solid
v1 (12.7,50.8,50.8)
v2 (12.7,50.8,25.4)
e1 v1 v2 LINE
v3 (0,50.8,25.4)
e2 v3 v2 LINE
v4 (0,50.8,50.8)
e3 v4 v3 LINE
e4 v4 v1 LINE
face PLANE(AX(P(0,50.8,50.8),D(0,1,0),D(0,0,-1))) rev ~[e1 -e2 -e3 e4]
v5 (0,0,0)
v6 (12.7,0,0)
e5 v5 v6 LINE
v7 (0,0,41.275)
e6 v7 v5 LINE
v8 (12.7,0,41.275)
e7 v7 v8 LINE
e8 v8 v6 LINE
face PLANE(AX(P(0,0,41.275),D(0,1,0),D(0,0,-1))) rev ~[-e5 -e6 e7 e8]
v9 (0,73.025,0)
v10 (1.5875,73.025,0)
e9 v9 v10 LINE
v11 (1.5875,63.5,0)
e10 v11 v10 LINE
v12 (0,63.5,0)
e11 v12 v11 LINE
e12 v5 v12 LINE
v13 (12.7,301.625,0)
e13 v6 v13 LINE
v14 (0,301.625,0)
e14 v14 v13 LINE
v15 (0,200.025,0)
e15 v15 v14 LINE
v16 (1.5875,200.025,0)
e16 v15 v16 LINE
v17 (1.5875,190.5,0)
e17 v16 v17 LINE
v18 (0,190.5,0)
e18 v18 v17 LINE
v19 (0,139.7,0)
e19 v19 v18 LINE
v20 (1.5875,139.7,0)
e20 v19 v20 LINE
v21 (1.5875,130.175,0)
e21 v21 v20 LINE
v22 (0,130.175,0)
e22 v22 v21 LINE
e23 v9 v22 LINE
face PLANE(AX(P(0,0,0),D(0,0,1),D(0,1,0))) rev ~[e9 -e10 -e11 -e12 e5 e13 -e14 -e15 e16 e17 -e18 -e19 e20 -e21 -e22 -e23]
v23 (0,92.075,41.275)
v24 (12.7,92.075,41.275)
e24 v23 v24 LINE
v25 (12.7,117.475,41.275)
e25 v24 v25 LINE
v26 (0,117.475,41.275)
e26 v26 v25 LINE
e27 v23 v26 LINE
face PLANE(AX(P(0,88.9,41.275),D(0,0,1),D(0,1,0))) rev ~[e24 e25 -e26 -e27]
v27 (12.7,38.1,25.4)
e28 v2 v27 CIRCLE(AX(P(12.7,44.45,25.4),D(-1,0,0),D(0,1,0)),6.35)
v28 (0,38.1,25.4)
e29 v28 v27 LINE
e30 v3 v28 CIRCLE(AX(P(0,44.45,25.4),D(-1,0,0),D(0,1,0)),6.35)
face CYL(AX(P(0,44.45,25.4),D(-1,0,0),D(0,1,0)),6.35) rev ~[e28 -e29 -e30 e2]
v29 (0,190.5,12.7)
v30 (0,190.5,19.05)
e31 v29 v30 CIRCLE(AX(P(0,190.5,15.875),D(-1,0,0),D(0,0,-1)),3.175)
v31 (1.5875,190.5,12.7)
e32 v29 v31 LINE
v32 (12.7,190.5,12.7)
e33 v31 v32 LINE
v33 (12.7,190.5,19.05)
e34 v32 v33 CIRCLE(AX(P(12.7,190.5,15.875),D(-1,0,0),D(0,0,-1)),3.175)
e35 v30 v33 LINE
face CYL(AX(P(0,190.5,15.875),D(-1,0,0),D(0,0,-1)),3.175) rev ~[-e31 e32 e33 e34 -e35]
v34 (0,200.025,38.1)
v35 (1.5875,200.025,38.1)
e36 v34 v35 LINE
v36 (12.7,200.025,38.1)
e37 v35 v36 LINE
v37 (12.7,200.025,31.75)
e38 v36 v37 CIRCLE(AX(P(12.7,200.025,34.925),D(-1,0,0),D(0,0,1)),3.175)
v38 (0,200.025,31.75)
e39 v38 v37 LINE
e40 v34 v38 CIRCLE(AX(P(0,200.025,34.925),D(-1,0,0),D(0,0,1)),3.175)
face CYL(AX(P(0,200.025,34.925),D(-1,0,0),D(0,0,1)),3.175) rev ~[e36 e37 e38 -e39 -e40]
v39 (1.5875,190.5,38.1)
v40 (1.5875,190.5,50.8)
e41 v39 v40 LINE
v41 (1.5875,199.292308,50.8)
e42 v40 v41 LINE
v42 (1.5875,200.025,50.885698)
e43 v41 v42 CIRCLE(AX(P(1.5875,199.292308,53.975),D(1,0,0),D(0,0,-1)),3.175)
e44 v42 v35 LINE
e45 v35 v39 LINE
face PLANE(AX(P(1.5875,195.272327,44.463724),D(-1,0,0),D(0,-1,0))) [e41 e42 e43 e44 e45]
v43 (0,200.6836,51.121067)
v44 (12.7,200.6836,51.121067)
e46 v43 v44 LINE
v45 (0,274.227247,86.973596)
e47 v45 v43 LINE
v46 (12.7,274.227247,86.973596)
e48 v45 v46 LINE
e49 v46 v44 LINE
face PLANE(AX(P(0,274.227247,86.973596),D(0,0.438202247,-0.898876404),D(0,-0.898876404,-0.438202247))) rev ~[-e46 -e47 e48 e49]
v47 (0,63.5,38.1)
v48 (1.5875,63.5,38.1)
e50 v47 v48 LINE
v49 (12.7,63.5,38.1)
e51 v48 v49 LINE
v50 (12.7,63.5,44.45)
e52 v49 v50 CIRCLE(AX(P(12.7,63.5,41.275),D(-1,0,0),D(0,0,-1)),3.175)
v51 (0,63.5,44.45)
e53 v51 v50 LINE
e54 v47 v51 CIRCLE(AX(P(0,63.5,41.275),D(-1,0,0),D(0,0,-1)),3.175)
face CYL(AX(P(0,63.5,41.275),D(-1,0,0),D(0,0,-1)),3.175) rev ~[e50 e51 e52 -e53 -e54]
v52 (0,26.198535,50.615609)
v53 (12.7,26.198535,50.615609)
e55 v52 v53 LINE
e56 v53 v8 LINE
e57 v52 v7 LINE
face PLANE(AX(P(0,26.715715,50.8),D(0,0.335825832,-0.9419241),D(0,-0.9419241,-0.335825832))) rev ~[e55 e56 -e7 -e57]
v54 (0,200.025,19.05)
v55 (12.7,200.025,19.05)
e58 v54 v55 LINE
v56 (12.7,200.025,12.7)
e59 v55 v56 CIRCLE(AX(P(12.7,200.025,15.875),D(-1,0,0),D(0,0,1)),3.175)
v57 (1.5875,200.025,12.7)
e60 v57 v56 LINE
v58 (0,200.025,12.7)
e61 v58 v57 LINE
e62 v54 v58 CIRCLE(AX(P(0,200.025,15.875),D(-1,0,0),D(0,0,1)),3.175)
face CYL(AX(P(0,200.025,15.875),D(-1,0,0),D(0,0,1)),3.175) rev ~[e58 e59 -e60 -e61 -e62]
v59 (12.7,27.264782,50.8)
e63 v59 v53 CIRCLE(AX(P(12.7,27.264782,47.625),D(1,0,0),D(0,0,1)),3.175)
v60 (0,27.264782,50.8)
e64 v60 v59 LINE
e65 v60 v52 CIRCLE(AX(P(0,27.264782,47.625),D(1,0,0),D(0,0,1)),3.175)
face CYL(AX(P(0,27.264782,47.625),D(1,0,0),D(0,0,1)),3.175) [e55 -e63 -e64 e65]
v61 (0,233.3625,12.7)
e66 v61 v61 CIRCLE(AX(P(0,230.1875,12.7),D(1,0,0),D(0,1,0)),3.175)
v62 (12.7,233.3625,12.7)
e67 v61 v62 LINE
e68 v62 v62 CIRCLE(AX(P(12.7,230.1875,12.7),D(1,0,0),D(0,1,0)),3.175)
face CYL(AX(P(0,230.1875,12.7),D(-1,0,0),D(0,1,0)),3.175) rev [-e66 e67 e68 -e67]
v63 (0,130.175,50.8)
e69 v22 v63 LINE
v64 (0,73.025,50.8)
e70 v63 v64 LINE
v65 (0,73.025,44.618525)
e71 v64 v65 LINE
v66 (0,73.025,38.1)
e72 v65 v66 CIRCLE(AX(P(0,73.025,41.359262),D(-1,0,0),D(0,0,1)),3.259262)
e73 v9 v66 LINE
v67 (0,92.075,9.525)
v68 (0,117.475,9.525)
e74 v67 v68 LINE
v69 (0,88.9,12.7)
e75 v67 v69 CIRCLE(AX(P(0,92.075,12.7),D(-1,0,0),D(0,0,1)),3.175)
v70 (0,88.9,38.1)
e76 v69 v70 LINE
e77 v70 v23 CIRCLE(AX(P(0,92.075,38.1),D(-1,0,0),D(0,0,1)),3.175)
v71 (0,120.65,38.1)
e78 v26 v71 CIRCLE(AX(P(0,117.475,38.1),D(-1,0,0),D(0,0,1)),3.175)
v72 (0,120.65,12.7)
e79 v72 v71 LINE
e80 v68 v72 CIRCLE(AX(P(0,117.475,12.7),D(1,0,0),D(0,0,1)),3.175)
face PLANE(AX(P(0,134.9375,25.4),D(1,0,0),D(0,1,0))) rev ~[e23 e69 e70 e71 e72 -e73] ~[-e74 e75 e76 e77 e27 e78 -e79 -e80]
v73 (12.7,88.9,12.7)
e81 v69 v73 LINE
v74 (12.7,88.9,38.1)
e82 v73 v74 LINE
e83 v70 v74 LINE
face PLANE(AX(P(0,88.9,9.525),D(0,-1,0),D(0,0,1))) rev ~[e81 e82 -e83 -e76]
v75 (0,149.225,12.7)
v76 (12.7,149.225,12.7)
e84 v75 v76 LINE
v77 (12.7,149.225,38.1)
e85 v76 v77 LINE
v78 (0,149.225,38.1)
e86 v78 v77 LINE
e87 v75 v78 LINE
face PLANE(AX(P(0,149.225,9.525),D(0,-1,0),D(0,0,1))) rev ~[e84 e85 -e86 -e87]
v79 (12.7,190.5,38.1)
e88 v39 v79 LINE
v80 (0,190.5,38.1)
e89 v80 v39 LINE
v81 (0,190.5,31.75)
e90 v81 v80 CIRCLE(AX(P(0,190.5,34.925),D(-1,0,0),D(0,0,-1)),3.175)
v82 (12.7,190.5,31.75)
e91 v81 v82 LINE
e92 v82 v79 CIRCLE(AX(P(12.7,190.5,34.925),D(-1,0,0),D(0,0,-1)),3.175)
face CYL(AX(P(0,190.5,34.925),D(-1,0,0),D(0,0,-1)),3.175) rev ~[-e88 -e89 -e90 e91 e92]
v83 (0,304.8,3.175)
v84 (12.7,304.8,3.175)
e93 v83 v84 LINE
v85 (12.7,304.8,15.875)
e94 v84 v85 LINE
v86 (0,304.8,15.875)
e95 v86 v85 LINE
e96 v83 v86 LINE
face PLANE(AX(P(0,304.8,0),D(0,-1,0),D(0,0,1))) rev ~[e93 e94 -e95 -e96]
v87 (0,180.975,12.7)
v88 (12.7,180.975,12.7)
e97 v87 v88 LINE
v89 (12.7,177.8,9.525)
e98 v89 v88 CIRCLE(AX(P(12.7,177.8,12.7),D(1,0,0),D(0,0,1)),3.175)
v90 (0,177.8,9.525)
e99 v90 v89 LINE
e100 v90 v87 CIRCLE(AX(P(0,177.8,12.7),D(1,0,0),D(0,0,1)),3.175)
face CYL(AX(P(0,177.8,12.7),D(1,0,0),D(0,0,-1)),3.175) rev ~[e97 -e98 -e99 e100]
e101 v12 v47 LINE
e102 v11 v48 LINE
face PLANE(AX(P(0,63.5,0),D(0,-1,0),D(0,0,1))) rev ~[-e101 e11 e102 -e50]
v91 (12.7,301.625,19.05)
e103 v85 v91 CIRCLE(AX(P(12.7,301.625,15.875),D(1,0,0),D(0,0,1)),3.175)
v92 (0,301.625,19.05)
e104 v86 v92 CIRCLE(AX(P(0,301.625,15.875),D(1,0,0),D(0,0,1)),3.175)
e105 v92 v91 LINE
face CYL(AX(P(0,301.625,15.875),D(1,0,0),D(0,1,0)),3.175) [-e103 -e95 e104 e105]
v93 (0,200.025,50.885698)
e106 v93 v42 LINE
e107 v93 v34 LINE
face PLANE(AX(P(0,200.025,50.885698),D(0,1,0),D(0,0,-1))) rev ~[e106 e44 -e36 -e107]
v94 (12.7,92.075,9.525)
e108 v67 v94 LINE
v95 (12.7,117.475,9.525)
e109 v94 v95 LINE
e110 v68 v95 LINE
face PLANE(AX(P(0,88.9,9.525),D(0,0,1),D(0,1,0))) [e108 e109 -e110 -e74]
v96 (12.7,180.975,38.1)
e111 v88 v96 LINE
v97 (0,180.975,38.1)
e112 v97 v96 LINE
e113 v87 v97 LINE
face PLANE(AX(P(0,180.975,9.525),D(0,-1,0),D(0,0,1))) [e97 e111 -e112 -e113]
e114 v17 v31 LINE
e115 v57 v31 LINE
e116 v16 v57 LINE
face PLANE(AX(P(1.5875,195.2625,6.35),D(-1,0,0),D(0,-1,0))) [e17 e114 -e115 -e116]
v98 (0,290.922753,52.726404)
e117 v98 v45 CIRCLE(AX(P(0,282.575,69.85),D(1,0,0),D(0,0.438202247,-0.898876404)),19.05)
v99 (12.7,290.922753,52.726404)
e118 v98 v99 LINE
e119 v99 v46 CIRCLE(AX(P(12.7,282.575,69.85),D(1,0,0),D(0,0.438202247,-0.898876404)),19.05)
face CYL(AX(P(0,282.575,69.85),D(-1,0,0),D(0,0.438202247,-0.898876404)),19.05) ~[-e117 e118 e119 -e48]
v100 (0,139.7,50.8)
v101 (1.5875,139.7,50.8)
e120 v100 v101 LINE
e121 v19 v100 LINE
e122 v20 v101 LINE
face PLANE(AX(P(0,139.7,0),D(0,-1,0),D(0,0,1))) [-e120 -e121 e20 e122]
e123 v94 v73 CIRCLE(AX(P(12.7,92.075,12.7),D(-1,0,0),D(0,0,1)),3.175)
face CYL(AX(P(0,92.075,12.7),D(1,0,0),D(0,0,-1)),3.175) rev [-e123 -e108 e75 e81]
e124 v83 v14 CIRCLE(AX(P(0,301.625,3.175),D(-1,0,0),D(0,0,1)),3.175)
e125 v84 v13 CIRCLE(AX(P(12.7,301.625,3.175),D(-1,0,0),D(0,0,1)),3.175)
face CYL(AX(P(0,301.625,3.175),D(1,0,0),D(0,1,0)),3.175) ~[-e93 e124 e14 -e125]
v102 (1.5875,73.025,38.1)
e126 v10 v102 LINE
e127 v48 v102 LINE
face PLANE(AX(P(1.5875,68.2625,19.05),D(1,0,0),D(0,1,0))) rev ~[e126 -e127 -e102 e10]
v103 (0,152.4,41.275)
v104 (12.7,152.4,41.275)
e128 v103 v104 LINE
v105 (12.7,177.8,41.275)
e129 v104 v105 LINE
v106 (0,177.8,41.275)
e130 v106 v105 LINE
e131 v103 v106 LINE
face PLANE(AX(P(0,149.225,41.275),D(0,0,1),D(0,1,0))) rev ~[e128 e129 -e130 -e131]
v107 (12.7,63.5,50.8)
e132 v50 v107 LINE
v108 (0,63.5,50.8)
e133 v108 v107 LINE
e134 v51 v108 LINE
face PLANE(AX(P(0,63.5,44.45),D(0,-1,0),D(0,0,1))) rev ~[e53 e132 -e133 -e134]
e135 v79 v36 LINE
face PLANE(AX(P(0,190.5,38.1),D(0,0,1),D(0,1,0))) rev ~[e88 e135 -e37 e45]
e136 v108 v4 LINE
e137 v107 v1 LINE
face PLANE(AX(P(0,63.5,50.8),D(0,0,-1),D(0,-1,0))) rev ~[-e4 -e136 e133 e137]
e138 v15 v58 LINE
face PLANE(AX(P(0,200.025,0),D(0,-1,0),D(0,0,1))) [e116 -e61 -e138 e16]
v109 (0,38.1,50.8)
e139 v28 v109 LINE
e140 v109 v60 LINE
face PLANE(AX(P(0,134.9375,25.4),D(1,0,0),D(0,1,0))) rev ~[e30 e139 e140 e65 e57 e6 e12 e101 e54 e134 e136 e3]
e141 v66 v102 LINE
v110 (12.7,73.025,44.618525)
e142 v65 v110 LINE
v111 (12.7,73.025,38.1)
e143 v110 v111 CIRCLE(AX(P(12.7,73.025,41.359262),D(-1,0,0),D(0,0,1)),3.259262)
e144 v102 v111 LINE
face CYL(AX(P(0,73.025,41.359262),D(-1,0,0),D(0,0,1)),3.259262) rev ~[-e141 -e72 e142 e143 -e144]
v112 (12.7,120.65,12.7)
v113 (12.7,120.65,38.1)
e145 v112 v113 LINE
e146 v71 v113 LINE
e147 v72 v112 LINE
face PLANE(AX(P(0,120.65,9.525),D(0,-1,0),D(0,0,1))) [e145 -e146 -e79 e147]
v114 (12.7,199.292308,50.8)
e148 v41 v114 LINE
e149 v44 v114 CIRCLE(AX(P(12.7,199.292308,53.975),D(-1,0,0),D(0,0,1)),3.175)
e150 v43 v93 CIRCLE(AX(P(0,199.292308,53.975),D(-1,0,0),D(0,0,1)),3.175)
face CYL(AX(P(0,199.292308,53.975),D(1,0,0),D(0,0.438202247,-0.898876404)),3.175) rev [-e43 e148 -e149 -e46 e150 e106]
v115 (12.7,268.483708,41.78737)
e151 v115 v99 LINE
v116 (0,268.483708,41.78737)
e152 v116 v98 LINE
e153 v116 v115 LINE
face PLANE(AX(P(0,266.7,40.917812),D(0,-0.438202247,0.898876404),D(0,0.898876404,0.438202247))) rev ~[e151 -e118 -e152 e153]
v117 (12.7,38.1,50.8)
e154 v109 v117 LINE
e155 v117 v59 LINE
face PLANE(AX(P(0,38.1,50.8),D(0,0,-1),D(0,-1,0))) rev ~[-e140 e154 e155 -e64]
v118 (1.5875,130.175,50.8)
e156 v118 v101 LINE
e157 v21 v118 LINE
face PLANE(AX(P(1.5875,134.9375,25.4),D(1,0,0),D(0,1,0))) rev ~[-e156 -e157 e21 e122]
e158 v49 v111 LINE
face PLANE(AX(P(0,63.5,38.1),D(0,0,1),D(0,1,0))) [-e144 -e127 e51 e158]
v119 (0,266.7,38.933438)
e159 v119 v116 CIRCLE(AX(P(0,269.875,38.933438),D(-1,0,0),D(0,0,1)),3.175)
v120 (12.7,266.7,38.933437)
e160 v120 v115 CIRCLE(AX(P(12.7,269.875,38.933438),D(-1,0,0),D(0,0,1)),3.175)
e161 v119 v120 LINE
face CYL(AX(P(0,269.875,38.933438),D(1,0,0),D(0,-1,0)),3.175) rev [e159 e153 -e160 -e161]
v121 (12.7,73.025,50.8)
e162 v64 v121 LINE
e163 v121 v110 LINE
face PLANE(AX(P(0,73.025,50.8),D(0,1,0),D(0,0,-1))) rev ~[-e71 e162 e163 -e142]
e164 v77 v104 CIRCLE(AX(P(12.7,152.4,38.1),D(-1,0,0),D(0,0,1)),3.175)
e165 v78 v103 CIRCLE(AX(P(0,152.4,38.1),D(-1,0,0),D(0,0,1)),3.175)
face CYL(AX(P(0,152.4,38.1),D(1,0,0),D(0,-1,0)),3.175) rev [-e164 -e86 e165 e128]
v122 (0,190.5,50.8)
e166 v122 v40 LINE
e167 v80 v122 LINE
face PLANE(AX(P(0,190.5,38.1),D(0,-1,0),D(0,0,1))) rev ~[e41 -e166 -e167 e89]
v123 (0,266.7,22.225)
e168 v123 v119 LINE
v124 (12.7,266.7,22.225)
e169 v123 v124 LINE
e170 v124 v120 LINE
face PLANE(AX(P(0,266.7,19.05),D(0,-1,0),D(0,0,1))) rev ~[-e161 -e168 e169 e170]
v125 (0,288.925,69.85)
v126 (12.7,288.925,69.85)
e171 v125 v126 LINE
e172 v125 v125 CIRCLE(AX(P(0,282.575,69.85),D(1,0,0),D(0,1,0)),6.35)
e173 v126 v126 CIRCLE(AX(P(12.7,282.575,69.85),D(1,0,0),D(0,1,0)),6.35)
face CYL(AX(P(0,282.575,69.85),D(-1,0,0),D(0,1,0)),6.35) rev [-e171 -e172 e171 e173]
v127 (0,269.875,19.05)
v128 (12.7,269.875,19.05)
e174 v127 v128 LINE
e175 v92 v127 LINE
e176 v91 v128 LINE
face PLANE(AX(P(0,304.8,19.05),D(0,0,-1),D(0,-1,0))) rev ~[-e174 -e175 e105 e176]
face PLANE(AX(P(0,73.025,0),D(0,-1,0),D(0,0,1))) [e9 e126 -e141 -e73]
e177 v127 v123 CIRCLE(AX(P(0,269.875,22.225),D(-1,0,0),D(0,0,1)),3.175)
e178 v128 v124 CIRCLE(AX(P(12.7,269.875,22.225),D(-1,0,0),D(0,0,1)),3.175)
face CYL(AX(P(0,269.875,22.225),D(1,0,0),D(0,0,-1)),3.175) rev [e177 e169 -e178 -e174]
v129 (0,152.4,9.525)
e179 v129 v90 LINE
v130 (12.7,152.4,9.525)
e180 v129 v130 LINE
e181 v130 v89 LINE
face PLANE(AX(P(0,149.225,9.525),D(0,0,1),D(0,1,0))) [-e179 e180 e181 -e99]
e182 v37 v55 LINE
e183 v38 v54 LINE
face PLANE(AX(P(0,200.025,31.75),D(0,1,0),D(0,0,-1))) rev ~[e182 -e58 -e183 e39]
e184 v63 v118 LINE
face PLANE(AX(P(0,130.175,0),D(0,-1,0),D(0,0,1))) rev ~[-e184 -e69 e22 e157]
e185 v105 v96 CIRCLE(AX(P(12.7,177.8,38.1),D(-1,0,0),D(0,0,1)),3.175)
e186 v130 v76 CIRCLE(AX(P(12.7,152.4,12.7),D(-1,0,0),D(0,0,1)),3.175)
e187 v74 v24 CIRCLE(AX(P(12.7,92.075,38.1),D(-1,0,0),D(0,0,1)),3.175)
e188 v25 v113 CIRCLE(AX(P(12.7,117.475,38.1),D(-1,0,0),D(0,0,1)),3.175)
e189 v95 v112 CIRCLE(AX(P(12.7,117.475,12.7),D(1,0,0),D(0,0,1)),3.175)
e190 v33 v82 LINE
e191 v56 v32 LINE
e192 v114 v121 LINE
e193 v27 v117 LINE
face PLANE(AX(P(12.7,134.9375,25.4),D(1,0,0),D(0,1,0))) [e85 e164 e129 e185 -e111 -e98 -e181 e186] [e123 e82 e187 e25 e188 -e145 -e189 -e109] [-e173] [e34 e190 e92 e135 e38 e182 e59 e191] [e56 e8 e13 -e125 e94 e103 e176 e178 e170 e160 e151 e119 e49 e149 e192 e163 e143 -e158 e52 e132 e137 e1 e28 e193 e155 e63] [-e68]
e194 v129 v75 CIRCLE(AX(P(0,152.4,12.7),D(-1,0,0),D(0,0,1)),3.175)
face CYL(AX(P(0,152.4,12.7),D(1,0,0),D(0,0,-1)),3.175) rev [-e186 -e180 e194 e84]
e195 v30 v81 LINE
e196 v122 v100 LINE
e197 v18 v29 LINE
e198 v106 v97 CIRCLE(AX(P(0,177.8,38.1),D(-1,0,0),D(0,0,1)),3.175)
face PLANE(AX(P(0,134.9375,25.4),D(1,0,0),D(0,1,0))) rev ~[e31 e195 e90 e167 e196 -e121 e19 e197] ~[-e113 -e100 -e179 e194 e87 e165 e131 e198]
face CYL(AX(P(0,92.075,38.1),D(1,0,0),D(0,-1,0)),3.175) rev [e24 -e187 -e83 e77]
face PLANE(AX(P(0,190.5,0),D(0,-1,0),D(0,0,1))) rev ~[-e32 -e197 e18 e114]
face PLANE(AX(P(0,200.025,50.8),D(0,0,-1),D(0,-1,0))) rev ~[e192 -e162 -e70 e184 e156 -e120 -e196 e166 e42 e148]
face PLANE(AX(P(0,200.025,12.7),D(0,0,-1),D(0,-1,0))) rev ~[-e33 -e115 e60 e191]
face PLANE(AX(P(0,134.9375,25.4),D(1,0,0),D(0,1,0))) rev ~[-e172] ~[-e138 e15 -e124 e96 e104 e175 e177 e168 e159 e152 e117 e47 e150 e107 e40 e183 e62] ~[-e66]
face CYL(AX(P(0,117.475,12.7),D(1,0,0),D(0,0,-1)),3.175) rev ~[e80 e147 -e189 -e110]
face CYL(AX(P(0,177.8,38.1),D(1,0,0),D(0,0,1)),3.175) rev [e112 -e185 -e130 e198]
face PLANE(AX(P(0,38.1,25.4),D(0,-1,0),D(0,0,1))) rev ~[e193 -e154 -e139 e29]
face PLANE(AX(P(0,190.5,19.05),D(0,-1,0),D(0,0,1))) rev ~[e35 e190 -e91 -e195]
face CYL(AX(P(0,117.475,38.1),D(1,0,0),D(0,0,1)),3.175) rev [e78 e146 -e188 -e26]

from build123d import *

# Parameters (mm, degrees)
F0_W         = 9.525
F0_H         = 50.8
F0_R         = 3.175
F0_W_2       = 31.75
F0_H_2       = 31.75
F0_R_2       = 6.35
F0_H_3       = 38.1
F1_DEPTH     = 12.7
F2_R         = 3.175
F3_W         = 9.525
F3_H         = 12.7
F1_FACE1_R   = 6.35
F1_FACE1_R_2 = 3.175
F4_DEPTH     = 1.5875
F5_DEPTH     = 1.5875
F6_DEPTH     = 1.5875


with BuildPart() as f1:
    # F0 (on Right) → F1 (new body)
    with BuildSketch(Plane.YZ):
        with Locations((134.9375, 25.4)):
            Rectangle(F0_W, F0_H)
        with BuildLine():
            Line((139.7, 50.8), (139.7, 0))
            Line((139.7, 0), (304.8, 0))
            Line((304.8, 0), (304.8, 19.05))
            Line((304.8, 19.05), (266.7, 19.05))
            Line((266.7, 19.05), (266.7, 40.9178125))
            Line((266.7, 40.9178125), (290.922752809, 52.7264044944))
            ThreePointArc((290.922752809, 52.7264044944), (299.6985955056, 78.197752809), (274.227247191, 86.9735955056))
            Line((274.227247191, 86.9735955056), (200.025, 50.8))
            Line((200.025, 50.8), (139.7, 50.8))
        make_face()
        with Locations((230.1875, 12.7)):
            Circle(F0_R, mode=Mode.SUBTRACT)
        with Locations((165.1, 25.4)):
            Rectangle(F0_W_2, F0_H_2, mode=Mode.SUBTRACT)
        with BuildLine():
            Line((190.5, 38.1), (200.025, 38.1))
            ThreePointArc((200.025, 38.1), (203.2, 34.925), (200.025, 31.75))
            Line((200.025, 31.75), (200.025, 19.05))
            ThreePointArc((200.025, 19.05), (203.2, 15.875), (200.025, 12.7))
            Line((200.025, 12.7), (190.5, 12.7))
            ThreePointArc((190.5, 12.7), (187.325, 15.875), (190.5, 19.05))
            Line((190.5, 19.05), (190.5, 31.75))
            ThreePointArc((190.5, 31.75), (187.325, 34.925), (190.5, 38.1))
        make_face(mode=Mode.SUBTRACT)
        with Locations((282.575, 69.85)):
            Circle(F0_R_2, mode=Mode.SUBTRACT)
        with BuildLine():
            Line((73.025, 38.1), (73.025, 0))
            Line((73.025, 0), (130.175, 0))
            Line((130.175, 0), (130.175, 50.8))
            Line((130.175, 50.8), (73.025, 50.8))
            Line((73.025, 50.8), (73.025, 44.6185247588))
            ThreePointArc((73.025, 44.6185247588), (76.2842623794, 41.3592623794), (73.025, 38.1))
        make_face()
        with Locations((104.775, 25.4)):
            Rectangle(F0_W_2, F0_H_2, mode=Mode.SUBTRACT)
        with Locations((68.2625, 19.05)):
            Rectangle(F0_W, F0_H_3)
        with BuildLine():
            Line((0, 41.275), (0, 0))
            Line((0, 0), (63.5, 0))
            Line((63.5, 0), (63.5, 38.1))
            ThreePointArc((63.5, 38.1), (60.325, 41.275), (63.5, 44.45))
            Line((63.5, 44.45), (63.5, 50.8))
            Line((63.5, 50.8), (50.8, 50.8))
            Line((50.8, 50.8), (50.8, 25.4))
            ThreePointArc((50.8, 25.4), (44.45, 19.05), (38.1, 25.4))
            Line((38.1, 25.4), (38.1, 50.8))
            Line((38.1, 50.8), (26.7157145118, 50.8))
            Line((26.7157145118, 50.8), (0, 41.275))
        make_face()
    extrude(amount=F1_DEPTH)

    # F2
    f2_edges = [f1.edges().sort_by_distance(p)[0] for p in [
        (6.35, 200.025, 50.8),
        (6.35, 266.7, 40.917813),
        (6.35, 266.7, 19.05),
        (6.35, 304.8, 19.05),
        (6.35, 304.8, 0),
        (6.35, 149.225, 41.275),
        (6.35, 88.9, 41.275),
        (6.35, 180.975, 9.525),
        (6.35, 180.975, 41.275),
        (6.35, 120.65, 41.275),
        (6.35, 149.225, 9.525),
        (6.35, 88.9, 9.525),
        (6.35, 120.65, 9.525),
        (6.35, 26.715715, 50.8),
    ]]
    fillet(f2_edges, radius=F2_R)

    # F3 (on face) + F1_face1 (on face) → F4 (cut)
    with BuildSketch(Plane(origin=(0, 0, 0), x_dir=(0, -1, 0), z_dir=(-1, 0, 0))):
        with Locations((-195.2625, 6.35)):
            Rectangle(F3_W, F3_H)
        with BuildLine():
            Line((-190.5, 38.1), (-190.5, 50.8))
            Line((-190.5, 50.8), (-199.2923076923, 50.8))
            ThreePointArc((-199.2923076923, 50.8), (-199.6611512097, 50.8214972713), (-200.025, 50.8856979781))
            Line((-200.025, 50.8856979781), (-200.025, 38.1))
            Line((-200.025, 38.1), (-190.5, 38.1))
        make_face()
    with BuildSketch(Plane(origin=(12.7, 165.3857306848, 30.2558551576), x_dir=(0, 1, 0), z_dir=(1, 0, 0))):
        with BuildLine():
            Line((139.4142693152, -27.0808551576), (139.4142693152, -14.3808551576))
            ThreePointArc((139.4142693152, -14.3808551576), (138.4843333455, -12.1357911273), (136.2392693152, -11.2058551576))
            Line((136.2392693152, -11.2058551576), (104.4892693152, -11.2058551576))
            ThreePointArc((104.4892693152, -11.2058551576), (102.2442052849, -10.2759191878), (101.3142693152, -8.0308551576))
            Line((101.3142693152, -8.0308551576), (101.3142693152, 8.6775823424))
            ThreePointArc((101.3142693152, 8.6775823424), (101.7968747, 10.3603289769), (103.0979771804, 11.5315149267))
            Line((103.0979771804, 11.5315149267), (125.5370221242, 22.4705493368))
            ThreePointArc((125.5370221242, 22.4705493368), (134.3128648208, 47.9418976514), (108.8415165062, 56.717740348))
            Line((108.8415165062, 56.717740348), (35.2978691423, 20.8652122582))
            ThreePointArc((35.2978691423, 20.8652122582), (34.6205059413, 20.6254527961), (33.9065770075, 20.5441448424))
            Line((33.9065770075, 20.5441448424), (-92.3607306848, 20.5441448424))
            Line((-92.3607306848, 20.5441448424), (-92.3607306848, 14.3626696012))
            ThreePointArc((-92.3607306848, 14.3626696012), (-89.1014683054, 11.1034072218), (-92.3607306848, 7.8441448424))
            Line((-92.3607306848, 7.8441448424), (-101.8857306848, 7.8441448424))
            ThreePointArc((-101.8857306848, 7.8441448424), (-105.0607306848, 11.0191448424), (-101.8857306848, 14.1941448424))
            Line((-101.8857306848, 14.1941448424), (-101.8857306848, 20.5441448424))
            Line((-101.8857306848, 20.5441448424), (-114.5857306848, 20.5441448424))
            Line((-114.5857306848, 20.5441448424), (-114.5857306848, -4.8558551576))
            ThreePointArc((-114.5857306848, -4.8558551576), (-120.9357306848, -11.2058551576), (-127.2857306848, -4.8558551576))
            Line((-127.2857306848, -4.8558551576), (-127.2857306848, 20.5441448424))
            Line((-127.2857306848, 20.5441448424), (-138.120948876, 20.5441448424))
            ThreePointArc((-138.120948876, 20.5441448424), (-138.661985551, 20.4977075022), (-139.1871958927, 20.3597538606))
            Line((-139.1871958927, 20.3597538606), (-165.3857306848, 11.0191448424))
            Line((-165.3857306848, 11.0191448424), (-165.3857306848, -30.2558551576))
            Line((-165.3857306848, -30.2558551576), (136.2392693152, -30.2558551576))
            ThreePointArc((136.2392693152, -30.2558551576), (138.4843333455, -29.3259191878), (139.4142693152, -27.0808551576))
        make_face()
        with Locations((117.1892693152, 39.5941448424)):
            Circle(F1_FACE1_R, mode=Mode.SUBTRACT)
        with Locations((64.8017693152, -17.5558551576)):
            Circle(F1_FACE1_R_2, mode=Mode.SUBTRACT)
        with BuildLine():
            Line((34.6392693152, -17.5558551576), (25.1142693152, -17.5558551576))
            ThreePointArc((25.1142693152, -17.5558551576), (21.9392693152, -14.3808551576), (25.1142693152, -11.2058551576))
            Line((25.1142693152, -11.2058551576), (25.1142693152, 1.4941448424))
            ThreePointArc((25.1142693152, 1.4941448424), (21.9392693152, 4.6691448424), (25.1142693152, 7.8441448424))
            Line((25.1142693152, 7.8441448424), (34.6392693152, 7.8441448424))
            ThreePointArc((34.6392693152, 7.8441448424), (37.8142693152, 4.6691448424), (34.6392693152, 1.4941448424))
            Line((34.6392693152, 1.4941448424), (34.6392693152, -11.2058551576))
            ThreePointArc((34.6392693152, -11.2058551576), (37.8142693152, -14.3808551576), (34.6392693152, -17.5558551576))
        make_face(mode=Mode.SUBTRACT)
        with BuildLine():
            Line((-16.1607306848, -17.5558551576), (-16.1607306848, 7.8441448424))
            ThreePointArc((-16.1607306848, 7.8441448424), (-15.2307947151, 10.0892088727), (-12.9857306848, 11.0191448424))
            Line((-12.9857306848, 11.0191448424), (12.4142693152, 11.0191448424))
            ThreePointArc((12.4142693152, 11.0191448424), (14.6593333455, 10.0892088727), (15.5892693152, 7.8441448424))
            Line((15.5892693152, 7.8441448424), (15.5892693152, -17.5558551576))
            ThreePointArc((15.5892693152, -17.5558551576), (14.6593333455, -19.8009191878), (12.4142693152, -20.7308551576))
            Line((12.4142693152, -20.7308551576), (-12.9857306848, -20.7308551576))
            ThreePointArc((-12.9857306848, -20.7308551576), (-15.2307947151, -19.8009191878), (-16.1607306848, -17.5558551576))
        make_face(mode=Mode.SUBTRACT)
        with BuildLine():
            Line((-47.9107306848, -20.7308551576), (-73.3107306848, -20.7308551576))
            ThreePointArc((-73.3107306848, -20.7308551576), (-75.5557947151, -19.8009191878), (-76.4857306848, -17.5558551576))
            Line((-76.4857306848, -17.5558551576), (-76.4857306848, 7.8441448424))
            ThreePointArc((-76.4857306848, 7.8441448424), (-75.5557947151, 10.0892088727), (-73.3107306848, 11.0191448424))
            Line((-73.3107306848, 11.0191448424), (-47.9107306848, 11.0191448424))
            ThreePointArc((-47.9107306848, 11.0191448424), (-45.6656666545, 10.0892088727), (-44.7357306848, 7.8441448424))
            Line((-44.7357306848, 7.8441448424), (-44.7357306848, -17.5558551576))
            ThreePointArc((-44.7357306848, -17.5558551576), (-45.6656666545, -19.8009191878), (-47.9107306848, -20.7308551576))
        make_face(mode=Mode.SUBTRACT)
    extrude(amount=-F4_DEPTH, dir=(-1, 0, 0), mode=Mode.SUBTRACT)

    # F0 (on Right) → F5 (cut)
    with BuildSketch(Plane.YZ):
        with Locations((134.9375, 25.4)):
            Rectangle(F0_W, F0_H)
    extrude(amount=F5_DEPTH, mode=Mode.SUBTRACT)

    # F0 (on Right) → F6 (cut)
    with BuildSketch(Plane.YZ):
        with Locations((68.2625, 19.05)):
            Rectangle(F0_W, F0_H_3)
    extrude(amount=F6_DEPTH, mode=Mode.SUBTRACT)


solid = f1.part
